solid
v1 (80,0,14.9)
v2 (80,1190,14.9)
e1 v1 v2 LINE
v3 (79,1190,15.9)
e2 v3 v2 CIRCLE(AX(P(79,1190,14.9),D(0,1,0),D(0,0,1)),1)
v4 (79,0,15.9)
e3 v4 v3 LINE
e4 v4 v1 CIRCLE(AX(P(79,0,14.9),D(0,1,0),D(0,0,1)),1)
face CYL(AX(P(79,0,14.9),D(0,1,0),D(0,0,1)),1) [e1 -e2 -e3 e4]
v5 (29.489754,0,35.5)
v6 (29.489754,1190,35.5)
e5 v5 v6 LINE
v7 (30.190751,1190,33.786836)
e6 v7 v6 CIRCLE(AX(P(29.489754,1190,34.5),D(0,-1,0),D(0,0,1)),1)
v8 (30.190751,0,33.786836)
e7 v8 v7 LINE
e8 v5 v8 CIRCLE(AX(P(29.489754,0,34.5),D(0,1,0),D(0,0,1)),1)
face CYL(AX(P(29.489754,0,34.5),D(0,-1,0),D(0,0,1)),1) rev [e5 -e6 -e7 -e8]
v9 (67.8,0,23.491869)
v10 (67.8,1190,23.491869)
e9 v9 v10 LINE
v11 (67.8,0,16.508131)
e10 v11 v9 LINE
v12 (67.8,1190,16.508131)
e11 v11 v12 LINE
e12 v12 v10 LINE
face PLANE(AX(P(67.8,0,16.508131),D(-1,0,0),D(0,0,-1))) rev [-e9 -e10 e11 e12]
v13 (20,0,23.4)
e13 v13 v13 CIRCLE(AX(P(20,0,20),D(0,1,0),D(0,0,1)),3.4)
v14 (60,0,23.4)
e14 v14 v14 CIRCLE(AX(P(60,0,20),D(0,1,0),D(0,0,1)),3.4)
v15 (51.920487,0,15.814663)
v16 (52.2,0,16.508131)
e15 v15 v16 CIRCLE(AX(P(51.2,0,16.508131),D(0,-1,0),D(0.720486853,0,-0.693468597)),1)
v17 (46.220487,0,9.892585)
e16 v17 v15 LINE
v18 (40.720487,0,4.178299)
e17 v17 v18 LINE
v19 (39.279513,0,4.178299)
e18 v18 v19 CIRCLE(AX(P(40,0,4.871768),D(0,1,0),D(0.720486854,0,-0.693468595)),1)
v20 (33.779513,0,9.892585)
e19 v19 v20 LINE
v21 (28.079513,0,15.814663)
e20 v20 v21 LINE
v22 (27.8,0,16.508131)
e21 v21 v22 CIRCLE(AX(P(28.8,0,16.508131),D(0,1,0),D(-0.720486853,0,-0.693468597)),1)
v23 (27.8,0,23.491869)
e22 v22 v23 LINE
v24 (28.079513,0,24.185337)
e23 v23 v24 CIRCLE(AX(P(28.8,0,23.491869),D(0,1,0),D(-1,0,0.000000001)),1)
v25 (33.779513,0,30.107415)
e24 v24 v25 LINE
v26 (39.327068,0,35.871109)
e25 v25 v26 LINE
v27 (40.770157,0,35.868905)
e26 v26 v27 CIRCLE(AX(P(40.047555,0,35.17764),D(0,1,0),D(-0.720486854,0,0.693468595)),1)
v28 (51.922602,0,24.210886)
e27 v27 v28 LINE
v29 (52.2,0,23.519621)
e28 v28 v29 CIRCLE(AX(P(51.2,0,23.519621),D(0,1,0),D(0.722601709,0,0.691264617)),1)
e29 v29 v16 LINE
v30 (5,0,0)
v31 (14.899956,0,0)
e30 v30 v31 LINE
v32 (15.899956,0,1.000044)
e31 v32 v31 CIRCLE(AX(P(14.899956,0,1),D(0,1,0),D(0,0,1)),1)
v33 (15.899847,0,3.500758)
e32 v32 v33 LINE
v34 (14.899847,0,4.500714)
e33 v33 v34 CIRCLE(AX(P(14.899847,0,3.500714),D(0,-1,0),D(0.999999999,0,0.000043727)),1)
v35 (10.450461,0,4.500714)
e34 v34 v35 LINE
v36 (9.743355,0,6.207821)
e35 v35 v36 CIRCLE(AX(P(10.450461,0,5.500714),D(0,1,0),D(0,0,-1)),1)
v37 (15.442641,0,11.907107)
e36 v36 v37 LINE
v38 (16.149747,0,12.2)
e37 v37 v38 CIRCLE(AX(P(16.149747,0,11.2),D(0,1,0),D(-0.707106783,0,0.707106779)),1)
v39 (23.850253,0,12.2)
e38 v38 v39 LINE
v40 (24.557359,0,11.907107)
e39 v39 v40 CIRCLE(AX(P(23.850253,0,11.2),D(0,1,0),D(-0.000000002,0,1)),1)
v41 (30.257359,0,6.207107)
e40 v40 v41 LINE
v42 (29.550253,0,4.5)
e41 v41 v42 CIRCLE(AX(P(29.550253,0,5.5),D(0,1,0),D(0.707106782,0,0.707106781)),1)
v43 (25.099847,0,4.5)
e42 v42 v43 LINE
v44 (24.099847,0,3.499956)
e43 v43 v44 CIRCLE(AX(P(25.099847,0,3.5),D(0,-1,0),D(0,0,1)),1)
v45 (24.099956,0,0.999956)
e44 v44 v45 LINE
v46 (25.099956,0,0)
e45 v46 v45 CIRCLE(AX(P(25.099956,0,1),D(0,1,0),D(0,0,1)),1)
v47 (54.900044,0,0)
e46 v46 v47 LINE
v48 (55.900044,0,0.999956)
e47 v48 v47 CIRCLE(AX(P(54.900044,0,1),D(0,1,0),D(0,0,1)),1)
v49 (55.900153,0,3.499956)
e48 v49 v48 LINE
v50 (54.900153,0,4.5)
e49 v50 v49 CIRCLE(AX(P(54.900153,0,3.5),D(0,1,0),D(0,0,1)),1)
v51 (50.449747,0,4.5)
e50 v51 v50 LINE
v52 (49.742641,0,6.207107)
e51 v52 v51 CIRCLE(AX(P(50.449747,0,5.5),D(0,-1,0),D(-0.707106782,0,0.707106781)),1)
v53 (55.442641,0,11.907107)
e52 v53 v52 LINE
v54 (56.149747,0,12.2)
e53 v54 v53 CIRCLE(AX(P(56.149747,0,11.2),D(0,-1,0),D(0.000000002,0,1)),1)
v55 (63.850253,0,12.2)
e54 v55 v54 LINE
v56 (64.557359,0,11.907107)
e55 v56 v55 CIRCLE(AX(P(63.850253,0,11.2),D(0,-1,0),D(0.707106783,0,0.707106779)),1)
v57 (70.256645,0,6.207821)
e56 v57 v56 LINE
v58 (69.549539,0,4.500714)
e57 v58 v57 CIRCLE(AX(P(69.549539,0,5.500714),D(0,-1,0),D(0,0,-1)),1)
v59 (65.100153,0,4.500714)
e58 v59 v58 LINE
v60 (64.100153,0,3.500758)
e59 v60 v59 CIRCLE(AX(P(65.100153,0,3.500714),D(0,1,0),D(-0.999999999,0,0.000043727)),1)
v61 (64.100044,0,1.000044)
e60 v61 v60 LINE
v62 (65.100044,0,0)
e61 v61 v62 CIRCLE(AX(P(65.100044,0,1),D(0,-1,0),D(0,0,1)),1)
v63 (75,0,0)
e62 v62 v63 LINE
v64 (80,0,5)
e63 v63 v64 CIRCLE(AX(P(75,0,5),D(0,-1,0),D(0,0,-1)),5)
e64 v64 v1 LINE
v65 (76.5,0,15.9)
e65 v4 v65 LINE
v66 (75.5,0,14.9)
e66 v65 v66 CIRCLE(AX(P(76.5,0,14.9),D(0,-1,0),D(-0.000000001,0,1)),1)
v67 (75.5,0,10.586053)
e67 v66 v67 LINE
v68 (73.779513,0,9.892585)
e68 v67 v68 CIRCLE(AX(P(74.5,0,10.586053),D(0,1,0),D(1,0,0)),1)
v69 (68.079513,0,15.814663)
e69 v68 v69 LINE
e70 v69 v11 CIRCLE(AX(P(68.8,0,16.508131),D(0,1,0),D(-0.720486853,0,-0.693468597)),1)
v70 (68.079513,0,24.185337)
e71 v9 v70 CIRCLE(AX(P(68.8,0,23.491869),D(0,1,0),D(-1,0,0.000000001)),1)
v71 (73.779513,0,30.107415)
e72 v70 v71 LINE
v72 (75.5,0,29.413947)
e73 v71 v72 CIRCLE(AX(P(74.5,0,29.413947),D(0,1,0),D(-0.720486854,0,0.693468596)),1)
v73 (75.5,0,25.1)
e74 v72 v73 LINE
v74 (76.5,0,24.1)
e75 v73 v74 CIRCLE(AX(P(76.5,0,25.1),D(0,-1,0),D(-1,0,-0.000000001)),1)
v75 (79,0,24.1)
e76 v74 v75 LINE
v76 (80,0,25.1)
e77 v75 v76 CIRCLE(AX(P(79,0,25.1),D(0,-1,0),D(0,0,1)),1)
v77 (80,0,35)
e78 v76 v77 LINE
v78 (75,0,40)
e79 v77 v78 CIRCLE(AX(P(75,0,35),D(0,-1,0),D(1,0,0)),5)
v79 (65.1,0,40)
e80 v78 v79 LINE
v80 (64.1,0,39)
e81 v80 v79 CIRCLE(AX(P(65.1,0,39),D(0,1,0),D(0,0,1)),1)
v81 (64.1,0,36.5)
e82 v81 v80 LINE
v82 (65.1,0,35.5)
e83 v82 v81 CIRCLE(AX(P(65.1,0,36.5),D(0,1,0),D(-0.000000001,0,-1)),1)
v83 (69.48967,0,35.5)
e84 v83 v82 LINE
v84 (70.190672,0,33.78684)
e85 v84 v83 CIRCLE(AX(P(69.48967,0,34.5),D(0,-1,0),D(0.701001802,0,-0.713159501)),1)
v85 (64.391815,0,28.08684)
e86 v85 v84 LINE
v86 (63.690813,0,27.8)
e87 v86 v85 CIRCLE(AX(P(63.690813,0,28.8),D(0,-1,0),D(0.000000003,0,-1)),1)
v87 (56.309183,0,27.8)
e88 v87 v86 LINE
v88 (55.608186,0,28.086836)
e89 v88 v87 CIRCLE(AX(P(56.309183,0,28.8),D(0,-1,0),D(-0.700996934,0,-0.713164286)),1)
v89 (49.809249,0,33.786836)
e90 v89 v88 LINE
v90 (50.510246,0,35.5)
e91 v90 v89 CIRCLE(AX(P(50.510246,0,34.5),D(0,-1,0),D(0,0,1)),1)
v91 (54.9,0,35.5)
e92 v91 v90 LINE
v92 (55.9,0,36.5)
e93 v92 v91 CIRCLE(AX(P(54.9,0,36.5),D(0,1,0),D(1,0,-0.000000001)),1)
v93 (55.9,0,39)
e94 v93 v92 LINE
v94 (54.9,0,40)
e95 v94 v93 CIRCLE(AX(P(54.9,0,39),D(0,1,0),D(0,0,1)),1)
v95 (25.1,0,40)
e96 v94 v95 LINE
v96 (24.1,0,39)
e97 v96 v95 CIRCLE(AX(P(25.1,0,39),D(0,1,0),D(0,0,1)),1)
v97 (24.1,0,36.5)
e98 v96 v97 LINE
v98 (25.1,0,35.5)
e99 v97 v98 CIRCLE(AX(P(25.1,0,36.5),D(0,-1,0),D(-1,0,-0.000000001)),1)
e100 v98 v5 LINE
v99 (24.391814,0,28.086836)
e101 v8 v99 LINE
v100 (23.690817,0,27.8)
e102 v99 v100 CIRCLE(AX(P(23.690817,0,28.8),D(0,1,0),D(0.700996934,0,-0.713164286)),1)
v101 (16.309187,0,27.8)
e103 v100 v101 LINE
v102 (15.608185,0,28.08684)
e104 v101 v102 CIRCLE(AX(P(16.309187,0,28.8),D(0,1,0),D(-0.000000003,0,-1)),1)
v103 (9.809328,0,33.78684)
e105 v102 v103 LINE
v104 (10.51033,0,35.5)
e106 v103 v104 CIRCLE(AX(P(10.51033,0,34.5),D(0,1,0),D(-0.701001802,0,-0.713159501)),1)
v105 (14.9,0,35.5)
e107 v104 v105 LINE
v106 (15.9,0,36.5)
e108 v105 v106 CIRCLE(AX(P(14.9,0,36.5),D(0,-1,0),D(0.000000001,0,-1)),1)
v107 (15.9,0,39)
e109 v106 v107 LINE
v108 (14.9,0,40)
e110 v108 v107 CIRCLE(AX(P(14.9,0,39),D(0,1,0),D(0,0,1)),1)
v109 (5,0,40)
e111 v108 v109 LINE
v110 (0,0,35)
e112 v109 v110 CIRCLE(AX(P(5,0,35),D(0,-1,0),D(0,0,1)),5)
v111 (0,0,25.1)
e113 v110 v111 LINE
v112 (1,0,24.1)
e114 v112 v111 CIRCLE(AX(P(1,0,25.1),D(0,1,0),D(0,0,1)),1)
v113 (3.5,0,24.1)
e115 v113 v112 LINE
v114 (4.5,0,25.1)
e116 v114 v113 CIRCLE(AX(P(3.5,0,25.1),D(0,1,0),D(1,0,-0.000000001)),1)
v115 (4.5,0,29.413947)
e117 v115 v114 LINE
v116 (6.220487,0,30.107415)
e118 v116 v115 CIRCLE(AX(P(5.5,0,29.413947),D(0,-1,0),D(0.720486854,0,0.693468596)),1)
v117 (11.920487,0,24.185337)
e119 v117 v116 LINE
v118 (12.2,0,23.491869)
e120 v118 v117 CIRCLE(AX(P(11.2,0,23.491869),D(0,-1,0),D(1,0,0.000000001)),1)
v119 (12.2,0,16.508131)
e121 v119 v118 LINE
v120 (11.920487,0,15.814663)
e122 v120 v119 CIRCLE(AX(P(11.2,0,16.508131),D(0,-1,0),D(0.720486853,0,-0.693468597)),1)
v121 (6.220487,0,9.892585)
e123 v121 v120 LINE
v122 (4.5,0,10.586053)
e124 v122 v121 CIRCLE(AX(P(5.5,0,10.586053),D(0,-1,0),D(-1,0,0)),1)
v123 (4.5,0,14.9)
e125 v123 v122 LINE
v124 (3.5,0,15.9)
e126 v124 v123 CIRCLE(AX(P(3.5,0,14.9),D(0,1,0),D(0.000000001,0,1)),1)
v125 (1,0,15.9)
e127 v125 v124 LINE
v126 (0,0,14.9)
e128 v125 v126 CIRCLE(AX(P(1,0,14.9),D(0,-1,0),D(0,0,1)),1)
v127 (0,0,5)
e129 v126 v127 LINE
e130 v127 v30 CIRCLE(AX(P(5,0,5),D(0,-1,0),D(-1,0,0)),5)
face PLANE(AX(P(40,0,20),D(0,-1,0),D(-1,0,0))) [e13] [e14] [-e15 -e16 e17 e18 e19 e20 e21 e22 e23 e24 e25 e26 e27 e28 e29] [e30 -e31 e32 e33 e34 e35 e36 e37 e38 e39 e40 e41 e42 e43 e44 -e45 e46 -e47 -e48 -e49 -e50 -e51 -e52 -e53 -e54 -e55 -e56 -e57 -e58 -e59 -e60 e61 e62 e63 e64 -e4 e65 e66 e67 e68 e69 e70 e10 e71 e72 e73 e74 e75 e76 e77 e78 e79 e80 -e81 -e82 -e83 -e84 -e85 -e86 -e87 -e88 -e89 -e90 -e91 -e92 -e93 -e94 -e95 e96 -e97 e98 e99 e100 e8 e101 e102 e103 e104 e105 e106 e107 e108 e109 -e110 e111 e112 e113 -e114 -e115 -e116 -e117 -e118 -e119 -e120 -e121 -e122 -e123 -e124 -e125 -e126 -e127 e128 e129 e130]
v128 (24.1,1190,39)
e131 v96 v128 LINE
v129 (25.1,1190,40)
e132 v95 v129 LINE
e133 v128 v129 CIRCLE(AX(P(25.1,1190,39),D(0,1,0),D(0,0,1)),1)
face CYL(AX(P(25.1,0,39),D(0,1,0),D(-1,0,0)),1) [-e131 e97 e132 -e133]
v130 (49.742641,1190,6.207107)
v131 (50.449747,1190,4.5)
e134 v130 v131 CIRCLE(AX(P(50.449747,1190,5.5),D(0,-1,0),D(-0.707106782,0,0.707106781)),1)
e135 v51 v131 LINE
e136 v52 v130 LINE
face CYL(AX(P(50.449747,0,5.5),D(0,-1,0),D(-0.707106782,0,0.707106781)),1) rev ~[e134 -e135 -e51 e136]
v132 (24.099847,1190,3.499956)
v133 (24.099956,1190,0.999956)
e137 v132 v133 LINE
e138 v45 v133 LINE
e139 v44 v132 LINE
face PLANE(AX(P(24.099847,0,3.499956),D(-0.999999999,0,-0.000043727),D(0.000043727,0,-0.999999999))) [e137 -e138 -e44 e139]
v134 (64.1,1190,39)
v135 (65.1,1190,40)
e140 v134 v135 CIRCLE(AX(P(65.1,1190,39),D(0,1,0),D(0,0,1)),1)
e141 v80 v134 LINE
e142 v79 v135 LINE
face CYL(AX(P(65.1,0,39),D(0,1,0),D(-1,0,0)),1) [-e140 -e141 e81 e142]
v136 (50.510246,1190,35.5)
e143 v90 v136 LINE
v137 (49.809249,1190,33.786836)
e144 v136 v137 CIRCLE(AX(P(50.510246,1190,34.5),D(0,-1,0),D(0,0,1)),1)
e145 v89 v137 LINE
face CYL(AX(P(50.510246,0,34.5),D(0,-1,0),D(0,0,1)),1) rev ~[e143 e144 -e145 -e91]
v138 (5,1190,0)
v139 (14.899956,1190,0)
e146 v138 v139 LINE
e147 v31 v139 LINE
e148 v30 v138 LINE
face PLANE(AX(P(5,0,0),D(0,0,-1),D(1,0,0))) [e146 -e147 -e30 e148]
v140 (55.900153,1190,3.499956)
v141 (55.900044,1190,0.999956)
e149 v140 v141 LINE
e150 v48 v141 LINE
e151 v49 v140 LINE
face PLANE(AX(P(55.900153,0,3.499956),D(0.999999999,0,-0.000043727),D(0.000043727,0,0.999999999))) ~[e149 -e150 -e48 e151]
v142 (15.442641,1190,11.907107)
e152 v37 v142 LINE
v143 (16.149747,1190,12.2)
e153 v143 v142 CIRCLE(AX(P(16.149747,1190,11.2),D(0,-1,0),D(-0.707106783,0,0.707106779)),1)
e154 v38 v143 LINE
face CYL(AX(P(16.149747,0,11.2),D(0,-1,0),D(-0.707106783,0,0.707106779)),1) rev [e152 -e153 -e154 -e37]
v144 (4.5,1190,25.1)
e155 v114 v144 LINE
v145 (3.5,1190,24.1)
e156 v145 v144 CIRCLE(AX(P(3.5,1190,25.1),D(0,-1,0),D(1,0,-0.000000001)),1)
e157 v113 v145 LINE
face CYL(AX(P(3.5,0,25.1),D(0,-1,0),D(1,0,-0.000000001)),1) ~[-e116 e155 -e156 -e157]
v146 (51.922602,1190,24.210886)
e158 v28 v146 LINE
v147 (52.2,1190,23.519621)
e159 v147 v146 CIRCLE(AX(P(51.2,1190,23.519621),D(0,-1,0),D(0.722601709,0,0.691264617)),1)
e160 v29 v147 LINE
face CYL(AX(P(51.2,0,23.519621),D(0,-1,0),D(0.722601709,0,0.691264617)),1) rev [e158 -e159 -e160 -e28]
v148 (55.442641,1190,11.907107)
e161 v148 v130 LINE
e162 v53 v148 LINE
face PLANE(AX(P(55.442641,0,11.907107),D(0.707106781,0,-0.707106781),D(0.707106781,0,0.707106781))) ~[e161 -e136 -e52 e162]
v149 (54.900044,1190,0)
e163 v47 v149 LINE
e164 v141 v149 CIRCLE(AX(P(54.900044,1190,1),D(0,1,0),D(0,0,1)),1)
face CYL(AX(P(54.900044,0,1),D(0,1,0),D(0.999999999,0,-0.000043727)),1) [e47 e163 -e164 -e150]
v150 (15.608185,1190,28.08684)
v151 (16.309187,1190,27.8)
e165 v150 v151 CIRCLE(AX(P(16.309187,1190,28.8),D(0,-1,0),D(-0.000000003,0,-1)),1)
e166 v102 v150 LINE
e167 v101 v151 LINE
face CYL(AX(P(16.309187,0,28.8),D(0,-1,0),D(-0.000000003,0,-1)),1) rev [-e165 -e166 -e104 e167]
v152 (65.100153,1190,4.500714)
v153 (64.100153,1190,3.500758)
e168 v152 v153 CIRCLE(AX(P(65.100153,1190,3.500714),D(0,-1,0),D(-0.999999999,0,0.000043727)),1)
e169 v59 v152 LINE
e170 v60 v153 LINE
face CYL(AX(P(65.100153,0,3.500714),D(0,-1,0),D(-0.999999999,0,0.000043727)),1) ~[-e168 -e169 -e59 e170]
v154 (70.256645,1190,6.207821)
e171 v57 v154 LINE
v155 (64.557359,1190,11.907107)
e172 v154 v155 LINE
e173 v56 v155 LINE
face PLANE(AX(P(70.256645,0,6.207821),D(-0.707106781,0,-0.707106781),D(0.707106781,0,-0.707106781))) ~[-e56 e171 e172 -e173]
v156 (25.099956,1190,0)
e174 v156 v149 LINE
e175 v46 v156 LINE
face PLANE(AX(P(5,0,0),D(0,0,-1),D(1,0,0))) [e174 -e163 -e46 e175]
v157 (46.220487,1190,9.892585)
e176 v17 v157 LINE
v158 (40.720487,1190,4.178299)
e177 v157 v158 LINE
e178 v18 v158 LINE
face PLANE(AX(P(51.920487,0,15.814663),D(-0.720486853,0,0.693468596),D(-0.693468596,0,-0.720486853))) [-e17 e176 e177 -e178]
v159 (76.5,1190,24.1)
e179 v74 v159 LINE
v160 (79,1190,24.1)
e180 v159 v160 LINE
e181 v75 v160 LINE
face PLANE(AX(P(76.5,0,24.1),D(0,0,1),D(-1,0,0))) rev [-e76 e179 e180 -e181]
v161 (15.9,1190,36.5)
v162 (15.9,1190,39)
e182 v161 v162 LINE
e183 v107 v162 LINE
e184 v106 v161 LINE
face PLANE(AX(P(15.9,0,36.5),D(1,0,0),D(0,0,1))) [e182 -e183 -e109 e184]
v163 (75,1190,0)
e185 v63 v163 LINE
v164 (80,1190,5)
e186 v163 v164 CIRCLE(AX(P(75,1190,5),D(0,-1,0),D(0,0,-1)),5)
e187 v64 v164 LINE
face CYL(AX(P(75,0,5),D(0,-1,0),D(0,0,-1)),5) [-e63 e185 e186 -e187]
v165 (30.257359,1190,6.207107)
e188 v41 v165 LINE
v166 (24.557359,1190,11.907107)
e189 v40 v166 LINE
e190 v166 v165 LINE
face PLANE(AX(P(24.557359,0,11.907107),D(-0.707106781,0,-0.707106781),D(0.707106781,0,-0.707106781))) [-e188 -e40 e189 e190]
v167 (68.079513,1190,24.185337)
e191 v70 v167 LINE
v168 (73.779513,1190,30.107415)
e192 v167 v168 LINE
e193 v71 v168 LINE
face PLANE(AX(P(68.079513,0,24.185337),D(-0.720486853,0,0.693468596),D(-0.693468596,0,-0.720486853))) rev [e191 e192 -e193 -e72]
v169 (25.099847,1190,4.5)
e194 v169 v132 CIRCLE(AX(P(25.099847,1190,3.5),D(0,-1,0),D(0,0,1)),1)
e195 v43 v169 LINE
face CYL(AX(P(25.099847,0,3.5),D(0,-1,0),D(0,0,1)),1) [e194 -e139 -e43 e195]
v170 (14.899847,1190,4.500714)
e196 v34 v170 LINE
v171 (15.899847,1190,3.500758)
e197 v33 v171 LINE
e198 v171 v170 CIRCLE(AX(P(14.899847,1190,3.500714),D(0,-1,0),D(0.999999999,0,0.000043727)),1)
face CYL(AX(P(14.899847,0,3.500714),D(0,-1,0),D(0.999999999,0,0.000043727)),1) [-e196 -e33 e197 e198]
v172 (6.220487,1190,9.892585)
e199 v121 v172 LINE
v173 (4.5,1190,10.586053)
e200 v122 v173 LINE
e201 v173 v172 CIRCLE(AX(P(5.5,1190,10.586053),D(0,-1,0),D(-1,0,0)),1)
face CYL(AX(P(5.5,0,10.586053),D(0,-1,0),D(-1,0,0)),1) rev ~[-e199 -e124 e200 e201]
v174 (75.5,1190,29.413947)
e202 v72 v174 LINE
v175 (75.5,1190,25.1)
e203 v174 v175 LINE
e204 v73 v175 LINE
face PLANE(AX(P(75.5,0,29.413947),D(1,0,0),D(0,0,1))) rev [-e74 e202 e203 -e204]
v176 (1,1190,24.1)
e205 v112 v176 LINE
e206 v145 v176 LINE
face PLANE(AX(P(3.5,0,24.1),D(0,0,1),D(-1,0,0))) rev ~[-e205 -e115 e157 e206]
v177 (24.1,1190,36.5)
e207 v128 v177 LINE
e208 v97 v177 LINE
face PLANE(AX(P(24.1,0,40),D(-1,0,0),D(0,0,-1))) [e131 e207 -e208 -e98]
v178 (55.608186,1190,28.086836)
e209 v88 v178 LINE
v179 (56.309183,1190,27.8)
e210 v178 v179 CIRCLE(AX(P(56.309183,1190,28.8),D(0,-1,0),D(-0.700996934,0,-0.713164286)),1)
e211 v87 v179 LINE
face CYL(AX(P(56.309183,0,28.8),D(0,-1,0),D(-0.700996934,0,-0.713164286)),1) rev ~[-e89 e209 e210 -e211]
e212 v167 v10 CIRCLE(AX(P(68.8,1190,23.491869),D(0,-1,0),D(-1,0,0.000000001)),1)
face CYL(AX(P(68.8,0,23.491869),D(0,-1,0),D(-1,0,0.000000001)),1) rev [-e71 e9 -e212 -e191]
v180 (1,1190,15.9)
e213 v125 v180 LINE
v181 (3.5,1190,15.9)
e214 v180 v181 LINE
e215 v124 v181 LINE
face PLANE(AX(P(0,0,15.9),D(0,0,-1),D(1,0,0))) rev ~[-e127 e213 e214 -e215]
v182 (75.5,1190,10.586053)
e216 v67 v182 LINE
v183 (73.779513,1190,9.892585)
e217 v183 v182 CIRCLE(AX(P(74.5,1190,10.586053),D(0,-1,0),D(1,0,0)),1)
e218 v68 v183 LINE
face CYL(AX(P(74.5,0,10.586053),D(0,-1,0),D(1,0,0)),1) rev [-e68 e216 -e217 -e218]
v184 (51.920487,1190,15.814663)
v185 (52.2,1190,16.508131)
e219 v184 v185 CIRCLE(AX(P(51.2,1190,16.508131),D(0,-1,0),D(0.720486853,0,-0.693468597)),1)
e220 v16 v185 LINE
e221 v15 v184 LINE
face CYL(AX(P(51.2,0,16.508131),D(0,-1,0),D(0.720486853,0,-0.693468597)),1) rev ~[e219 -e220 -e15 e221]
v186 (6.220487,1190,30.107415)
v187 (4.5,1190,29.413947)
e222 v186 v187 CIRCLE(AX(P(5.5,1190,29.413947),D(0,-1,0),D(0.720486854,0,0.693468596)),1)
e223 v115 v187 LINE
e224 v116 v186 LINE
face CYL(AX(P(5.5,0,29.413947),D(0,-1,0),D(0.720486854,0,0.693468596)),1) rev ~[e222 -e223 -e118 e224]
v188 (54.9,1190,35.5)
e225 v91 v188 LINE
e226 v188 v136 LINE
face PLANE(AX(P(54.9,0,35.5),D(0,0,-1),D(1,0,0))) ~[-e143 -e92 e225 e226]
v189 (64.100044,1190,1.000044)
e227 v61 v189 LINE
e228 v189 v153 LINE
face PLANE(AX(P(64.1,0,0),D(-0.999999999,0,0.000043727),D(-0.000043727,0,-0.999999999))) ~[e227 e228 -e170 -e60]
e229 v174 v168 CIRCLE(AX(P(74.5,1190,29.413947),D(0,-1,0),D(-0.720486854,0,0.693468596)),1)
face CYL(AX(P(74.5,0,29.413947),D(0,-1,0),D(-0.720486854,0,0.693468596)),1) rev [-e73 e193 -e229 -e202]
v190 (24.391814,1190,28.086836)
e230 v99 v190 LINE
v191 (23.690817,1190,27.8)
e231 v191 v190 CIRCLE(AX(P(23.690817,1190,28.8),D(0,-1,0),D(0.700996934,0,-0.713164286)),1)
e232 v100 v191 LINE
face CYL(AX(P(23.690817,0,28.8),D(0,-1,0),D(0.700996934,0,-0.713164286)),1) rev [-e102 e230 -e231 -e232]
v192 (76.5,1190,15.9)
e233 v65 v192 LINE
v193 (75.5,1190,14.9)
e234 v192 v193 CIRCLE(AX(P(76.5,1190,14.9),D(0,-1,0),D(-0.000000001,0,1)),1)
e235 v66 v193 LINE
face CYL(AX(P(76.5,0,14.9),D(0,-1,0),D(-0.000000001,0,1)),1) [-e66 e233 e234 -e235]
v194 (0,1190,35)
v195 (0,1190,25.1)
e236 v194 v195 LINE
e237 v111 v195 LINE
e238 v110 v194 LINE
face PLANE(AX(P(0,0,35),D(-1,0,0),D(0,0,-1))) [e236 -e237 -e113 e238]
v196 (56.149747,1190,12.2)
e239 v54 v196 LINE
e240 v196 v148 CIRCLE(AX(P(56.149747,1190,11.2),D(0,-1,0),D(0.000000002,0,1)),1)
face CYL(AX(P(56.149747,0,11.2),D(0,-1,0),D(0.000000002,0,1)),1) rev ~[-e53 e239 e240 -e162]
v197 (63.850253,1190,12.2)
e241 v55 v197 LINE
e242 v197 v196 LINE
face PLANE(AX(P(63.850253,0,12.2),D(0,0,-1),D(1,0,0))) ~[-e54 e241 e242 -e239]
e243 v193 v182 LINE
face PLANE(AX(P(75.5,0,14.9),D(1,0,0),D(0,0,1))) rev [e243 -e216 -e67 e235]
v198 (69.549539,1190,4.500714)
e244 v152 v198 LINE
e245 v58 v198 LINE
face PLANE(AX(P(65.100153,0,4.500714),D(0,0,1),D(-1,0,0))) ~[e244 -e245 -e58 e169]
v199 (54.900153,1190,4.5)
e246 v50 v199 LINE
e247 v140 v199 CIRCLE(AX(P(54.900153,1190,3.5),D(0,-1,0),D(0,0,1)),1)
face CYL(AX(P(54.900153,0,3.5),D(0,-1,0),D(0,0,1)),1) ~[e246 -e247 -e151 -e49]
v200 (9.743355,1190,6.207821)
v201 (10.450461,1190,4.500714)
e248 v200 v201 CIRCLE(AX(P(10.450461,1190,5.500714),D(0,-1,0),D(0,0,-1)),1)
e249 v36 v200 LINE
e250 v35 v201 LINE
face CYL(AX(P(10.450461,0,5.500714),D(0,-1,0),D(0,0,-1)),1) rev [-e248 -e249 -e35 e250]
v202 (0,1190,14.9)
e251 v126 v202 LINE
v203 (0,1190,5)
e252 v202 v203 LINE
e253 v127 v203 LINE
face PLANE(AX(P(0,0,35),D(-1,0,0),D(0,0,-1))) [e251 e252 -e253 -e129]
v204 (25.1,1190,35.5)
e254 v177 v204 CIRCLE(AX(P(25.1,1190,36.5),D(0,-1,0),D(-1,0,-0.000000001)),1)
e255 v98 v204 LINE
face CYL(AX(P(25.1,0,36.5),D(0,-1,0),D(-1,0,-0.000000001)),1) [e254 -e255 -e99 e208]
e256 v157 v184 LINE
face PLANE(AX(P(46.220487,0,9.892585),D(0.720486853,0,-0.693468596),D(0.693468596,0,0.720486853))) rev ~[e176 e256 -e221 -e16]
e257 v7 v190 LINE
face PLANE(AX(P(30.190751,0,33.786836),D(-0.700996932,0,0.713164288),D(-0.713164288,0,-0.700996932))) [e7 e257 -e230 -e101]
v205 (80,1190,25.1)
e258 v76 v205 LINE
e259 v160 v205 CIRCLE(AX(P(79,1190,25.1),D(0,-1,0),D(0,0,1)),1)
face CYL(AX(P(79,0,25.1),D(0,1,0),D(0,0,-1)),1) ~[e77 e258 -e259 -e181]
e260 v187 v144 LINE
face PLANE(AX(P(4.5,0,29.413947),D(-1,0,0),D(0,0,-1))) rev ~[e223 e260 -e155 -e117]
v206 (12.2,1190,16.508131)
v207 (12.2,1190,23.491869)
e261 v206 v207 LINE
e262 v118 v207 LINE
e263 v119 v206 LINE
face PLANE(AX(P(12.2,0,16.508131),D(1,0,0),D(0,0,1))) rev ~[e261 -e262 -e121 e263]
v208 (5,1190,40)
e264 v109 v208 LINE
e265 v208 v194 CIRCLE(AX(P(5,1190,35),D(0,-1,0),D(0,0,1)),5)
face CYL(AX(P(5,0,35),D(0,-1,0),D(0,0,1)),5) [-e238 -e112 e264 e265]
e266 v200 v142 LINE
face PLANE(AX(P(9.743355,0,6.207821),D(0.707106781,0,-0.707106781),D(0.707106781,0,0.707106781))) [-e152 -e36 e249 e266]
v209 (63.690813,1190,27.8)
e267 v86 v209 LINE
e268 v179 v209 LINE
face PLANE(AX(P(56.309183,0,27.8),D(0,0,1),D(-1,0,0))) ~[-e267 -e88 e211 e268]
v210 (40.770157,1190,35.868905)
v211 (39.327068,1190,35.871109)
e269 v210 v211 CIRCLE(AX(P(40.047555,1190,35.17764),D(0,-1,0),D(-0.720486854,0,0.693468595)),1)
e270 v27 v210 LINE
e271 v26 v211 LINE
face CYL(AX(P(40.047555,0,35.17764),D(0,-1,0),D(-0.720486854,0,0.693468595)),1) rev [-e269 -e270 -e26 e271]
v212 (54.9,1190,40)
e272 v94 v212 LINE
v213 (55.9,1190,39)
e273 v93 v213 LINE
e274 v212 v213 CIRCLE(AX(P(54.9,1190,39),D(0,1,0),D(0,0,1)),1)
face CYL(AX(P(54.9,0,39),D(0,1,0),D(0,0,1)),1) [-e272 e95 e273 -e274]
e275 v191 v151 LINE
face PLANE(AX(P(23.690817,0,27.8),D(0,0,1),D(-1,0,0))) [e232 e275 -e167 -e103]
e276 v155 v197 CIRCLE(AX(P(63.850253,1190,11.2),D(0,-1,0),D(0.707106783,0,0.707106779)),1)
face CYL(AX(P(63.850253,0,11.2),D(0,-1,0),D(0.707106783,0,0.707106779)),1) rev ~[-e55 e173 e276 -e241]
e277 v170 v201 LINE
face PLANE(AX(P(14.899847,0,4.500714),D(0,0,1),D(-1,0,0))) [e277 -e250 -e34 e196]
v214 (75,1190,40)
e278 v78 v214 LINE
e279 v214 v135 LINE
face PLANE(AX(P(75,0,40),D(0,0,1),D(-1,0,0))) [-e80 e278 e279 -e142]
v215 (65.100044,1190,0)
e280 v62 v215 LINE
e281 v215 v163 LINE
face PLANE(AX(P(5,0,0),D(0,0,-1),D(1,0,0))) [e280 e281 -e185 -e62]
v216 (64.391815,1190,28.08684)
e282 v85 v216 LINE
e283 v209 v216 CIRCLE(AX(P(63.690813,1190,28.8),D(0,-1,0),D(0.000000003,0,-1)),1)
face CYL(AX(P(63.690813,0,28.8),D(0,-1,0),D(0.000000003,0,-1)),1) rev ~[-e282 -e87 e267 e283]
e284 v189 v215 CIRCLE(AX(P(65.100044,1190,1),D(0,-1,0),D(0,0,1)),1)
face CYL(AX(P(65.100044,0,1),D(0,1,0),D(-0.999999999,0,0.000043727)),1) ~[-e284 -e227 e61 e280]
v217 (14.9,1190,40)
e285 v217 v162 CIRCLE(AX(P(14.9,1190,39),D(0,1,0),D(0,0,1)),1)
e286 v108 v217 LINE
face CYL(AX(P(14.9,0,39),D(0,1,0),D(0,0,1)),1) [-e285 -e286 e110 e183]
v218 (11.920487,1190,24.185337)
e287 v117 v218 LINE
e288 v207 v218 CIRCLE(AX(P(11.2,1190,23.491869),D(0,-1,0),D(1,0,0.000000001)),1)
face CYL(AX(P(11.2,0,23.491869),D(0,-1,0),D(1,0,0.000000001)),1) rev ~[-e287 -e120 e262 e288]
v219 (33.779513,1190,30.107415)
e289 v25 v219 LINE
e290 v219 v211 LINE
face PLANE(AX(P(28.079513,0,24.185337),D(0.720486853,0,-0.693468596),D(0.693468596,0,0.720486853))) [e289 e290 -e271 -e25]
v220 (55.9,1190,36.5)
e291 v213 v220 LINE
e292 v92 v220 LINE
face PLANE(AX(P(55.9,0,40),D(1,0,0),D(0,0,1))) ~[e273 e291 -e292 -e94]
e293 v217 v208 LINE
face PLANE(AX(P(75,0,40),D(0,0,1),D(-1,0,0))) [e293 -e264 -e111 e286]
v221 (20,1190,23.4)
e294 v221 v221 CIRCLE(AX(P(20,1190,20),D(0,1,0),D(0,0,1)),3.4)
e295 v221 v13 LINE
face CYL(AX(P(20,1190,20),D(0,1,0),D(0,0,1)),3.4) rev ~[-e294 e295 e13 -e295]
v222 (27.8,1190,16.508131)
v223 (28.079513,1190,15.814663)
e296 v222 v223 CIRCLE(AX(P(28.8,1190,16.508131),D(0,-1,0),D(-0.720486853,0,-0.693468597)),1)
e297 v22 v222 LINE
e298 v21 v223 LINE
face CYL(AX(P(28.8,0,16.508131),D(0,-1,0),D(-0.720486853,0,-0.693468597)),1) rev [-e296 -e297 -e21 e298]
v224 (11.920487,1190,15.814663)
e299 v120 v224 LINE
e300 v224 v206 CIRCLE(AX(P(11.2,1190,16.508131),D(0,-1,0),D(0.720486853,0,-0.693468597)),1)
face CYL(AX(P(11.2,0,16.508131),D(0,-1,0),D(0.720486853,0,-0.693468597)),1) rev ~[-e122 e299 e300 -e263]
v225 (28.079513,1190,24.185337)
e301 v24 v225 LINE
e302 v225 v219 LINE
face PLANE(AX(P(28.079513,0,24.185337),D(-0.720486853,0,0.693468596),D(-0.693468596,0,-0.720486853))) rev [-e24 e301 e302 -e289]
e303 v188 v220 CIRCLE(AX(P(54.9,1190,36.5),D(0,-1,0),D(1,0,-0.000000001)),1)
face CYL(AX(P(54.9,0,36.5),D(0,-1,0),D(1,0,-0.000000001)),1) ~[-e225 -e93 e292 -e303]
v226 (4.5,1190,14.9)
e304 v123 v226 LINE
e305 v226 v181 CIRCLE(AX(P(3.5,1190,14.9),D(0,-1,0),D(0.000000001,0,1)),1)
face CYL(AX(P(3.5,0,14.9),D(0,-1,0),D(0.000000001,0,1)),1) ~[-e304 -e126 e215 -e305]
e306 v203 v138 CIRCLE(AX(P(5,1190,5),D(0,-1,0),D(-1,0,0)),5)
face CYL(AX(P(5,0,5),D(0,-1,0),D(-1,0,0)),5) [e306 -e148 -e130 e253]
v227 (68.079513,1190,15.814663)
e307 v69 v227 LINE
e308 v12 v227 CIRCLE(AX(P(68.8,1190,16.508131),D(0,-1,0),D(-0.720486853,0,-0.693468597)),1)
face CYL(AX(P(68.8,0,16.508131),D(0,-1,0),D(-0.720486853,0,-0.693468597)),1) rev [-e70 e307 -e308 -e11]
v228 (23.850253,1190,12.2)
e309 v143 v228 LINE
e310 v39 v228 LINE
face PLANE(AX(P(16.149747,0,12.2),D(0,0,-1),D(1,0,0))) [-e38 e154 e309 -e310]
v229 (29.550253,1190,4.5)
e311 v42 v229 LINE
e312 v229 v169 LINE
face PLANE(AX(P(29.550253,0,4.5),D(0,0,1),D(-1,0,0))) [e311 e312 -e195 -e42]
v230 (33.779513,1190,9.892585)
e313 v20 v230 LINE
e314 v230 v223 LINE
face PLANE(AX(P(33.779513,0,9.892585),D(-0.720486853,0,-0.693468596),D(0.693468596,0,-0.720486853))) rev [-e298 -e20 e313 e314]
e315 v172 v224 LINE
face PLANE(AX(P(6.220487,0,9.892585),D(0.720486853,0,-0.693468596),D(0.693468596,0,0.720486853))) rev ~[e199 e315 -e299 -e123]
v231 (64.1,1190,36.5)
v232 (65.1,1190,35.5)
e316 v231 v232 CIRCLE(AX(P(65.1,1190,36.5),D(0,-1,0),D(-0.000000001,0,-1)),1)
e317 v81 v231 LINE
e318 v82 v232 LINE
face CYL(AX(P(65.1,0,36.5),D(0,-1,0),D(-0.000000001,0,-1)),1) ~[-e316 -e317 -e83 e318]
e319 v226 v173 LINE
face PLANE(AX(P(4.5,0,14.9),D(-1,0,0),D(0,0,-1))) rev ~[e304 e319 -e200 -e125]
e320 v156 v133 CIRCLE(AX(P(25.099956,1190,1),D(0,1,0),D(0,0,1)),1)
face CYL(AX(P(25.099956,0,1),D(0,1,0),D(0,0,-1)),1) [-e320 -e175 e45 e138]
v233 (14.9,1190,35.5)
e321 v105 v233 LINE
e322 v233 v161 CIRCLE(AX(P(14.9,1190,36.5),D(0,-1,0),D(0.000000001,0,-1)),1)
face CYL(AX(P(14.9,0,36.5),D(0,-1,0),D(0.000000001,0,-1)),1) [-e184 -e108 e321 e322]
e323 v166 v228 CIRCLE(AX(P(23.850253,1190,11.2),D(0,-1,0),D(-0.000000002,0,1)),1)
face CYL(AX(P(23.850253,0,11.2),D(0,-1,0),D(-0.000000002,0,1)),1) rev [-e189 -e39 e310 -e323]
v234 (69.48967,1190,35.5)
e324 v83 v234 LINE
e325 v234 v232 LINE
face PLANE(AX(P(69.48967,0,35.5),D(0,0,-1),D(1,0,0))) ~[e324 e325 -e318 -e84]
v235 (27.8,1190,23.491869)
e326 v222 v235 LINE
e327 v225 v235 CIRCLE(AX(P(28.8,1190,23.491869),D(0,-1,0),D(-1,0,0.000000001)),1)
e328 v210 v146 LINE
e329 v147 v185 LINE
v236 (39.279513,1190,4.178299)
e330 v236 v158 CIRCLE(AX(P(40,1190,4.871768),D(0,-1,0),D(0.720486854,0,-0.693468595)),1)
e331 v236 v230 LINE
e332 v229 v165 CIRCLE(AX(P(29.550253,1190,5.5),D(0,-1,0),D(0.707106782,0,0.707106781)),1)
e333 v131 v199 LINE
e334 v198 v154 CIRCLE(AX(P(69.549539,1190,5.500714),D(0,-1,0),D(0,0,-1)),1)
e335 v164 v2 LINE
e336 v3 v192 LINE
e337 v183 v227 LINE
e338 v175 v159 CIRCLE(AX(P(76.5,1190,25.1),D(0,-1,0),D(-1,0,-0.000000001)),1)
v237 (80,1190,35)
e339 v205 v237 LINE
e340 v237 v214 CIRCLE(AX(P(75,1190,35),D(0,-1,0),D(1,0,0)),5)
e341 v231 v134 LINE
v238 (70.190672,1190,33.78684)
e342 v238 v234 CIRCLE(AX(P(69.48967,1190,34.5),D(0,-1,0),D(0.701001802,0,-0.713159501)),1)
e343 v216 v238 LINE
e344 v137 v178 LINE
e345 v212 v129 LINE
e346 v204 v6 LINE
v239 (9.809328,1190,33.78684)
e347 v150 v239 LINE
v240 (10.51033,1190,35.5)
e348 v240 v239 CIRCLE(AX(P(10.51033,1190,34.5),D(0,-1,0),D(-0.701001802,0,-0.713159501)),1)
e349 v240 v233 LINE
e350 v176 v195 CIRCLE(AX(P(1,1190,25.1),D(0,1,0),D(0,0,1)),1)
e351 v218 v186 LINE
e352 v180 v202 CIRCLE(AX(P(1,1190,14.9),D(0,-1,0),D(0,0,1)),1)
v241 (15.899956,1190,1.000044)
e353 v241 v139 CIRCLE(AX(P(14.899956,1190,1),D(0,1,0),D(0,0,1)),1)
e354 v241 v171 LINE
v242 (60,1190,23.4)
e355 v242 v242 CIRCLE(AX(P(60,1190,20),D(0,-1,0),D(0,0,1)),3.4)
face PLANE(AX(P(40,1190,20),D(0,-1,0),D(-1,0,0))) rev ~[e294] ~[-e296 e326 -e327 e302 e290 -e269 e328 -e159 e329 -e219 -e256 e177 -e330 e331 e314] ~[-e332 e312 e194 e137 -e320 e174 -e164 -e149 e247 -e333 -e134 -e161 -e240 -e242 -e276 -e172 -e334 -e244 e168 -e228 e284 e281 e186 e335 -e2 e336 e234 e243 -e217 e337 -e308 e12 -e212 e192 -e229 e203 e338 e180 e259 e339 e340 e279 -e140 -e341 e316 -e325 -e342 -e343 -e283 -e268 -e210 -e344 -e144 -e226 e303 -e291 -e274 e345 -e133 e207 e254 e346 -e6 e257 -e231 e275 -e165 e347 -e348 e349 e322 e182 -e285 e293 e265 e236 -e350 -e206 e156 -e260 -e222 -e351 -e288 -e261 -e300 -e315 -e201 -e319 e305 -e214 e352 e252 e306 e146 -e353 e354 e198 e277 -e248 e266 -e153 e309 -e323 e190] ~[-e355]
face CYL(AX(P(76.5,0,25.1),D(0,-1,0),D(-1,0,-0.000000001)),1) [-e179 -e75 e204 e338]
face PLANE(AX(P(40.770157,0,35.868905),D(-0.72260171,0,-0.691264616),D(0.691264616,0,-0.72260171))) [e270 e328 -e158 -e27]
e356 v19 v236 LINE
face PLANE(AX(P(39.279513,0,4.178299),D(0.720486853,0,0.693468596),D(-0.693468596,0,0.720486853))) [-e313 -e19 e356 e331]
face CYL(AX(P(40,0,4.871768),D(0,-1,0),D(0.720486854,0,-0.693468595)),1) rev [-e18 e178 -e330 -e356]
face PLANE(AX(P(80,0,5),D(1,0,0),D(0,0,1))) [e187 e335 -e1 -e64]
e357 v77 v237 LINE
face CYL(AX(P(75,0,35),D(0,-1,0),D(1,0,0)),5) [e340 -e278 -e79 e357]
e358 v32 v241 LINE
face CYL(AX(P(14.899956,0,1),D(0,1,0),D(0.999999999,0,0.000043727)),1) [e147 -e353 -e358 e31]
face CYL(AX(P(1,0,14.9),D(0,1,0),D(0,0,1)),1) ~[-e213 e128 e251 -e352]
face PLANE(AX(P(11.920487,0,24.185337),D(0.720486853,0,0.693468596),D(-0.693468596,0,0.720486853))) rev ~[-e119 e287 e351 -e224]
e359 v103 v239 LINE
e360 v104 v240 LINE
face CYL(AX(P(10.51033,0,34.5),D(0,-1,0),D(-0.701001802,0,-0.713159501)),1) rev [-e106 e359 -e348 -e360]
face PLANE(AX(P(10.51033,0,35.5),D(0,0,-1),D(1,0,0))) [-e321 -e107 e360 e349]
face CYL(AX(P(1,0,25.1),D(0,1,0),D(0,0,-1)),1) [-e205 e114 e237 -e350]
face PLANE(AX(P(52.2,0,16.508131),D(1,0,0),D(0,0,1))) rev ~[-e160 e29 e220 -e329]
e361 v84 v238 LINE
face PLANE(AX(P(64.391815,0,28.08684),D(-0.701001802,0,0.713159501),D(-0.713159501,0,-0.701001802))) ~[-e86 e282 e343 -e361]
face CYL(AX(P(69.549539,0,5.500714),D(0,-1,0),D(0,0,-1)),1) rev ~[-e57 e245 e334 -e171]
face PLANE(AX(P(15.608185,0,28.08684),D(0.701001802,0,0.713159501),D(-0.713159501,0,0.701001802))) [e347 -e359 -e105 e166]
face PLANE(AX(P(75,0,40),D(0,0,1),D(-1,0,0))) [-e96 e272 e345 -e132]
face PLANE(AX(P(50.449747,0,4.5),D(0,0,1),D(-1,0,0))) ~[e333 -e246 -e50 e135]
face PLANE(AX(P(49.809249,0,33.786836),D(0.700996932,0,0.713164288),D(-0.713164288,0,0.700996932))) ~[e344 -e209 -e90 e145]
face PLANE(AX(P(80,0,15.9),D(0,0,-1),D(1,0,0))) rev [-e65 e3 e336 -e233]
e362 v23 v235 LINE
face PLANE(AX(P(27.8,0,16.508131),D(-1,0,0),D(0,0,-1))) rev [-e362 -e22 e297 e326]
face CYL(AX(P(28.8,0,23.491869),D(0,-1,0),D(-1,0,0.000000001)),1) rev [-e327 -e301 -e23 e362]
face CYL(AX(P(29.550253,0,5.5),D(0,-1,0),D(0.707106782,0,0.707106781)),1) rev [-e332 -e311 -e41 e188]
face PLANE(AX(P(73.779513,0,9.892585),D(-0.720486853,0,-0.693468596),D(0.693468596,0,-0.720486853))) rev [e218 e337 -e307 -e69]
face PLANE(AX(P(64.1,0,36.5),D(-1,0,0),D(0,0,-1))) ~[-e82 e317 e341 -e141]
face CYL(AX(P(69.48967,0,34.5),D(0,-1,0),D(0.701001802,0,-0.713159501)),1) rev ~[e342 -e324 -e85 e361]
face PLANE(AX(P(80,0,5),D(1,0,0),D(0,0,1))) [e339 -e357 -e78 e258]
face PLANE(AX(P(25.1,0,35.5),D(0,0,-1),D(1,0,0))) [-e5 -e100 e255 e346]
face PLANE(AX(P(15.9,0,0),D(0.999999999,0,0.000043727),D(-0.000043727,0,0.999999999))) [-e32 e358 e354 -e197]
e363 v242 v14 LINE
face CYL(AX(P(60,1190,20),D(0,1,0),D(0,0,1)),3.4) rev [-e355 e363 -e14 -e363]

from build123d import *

# Parameters (mm, degrees)
BOSS_EXTRUDE1_DEPTH   = 1190
SKETCH3_R             = 3.4
CUT_EXTRUDE1_DEPTH    = 1194.356610574
CUT_EXTRUDE2_DEPTH    = 1194.356610574
FILLET1_R             = 1
FILLET2_R             = 1
FILLET3_R             = 1
CUT_EXTRUDE3_DEPTH    = 1194.356610574
CUT_EXTRUDE4_DEPTH    = 1194.356610574
FILLET4_R             = 1
FILLET5_R             = 1
FILLET6_R             = 1
FILLET7_R             = 1
FILLET8_R             = 1
FILLET9_R             = 1
FILLET10_R            = 1
FILLET11_R            = 1
MIRROR11_COPY_1_DEPTH = 1194.356610574
MIRROR11_COPY_2_DEPTH = 1194.356610574
CUT_EXTRUDE5_DEPTH    = 1194.356610574


with BuildPart() as part:
    # Sketch1 → Boss-Extrude1 (new body)
    with BuildSketch(Plane(origin=(0, 0, 0), x_dir=(1, 0, 0), z_dir=(0, 1, 0))):
        with BuildLine():
            Line((5, 0), (75, 0))
            ThreePointArc((75, 0), (78.535533906, -1.464466094), (80, -5))
            Line((80, -5), (80, -35))
            ThreePointArc((80, -35), (78.535533906, -38.535533906), (75, -40))
            Line((75, -40), (5, -40))
            ThreePointArc((5, -40), (1.464466094, -38.535533906), (0, -35))
            Line((0, -35), (0, -5))
            ThreePointArc((0, -5), (1.464466094, -1.464466094), (5, 0))
        make_face()
    extrude(amount=BOSS_EXTRUDE1_DEPTH)

    # Sketch3 → Cut-Extrude1 (cut, through all)
    with BuildSketch(Plane(origin=(0, 1190, 0), x_dir=(1, 0, 0), z_dir=(0, 1, 0))):
        with Locations(Location((20, -20, 0), (0, 0, 270))):
            Circle(SKETCH3_R)
    cut_extrude1 = extrude(amount=-CUT_EXTRUDE1_DEPTH, mode=Mode.SUBTRACT)

    # Mirror3: Cut-Extrude1 across plane
    add(cut_extrude1.mirror(Plane(origin=(40, 0, 0), x_dir=(0, 0, 1), z_dir=(1, 0, 0))), mode=Mode.SUBTRACT)

    # Sketch7 → Cut-Extrude2 (cut, through all)
    with BuildSketch(Plane(origin=(0, 0, 0), x_dir=(-1, 0, 0), z_dir=(0, -1, 0))):
        with BuildLine():
            Line((-15.9, -40), (-24.1, -40))
            Line((-24.1, -40), (-24.1, -36.5))
            ThreePointArc((-24.1, -36.5), (-24.392893219, -35.792893219), (-25.1, -35.5))
            Line((-25.1, -35.5), (-29.489753594, -35.5))
            ThreePointArc((-29.489753594, -35.5), (-30.415270825, -34.8787055), (-30.190750526, -33.786835712))
            Line((-30.190750526, -33.786835712), (-24.391814382, -28.086835712))
            ThreePointArc((-24.391814382, -28.086835712), (-24.069522951, -27.874482769), (-23.69081745, -27.8))
            Line((-23.69081745, -27.8), (-16.309186536, -27.8))
            ThreePointArc((-16.309186536, -27.8), (-15.930477876, -27.874484063), (-15.608184734, -28.086840499))
            Line((-15.608184734, -28.086840499), (-9.809327805, -33.786840499))
            ThreePointArc((-9.809327805, -33.786840499), (-9.584813669, -34.87870866), (-10.510329607, -35.5))
            Line((-10.510329607, -35.5), (-14.9, -35.5))
            ThreePointArc((-14.9, -35.5), (-15.607106781, -35.792893219), (-15.9, -36.5))
            Line((-15.9, -36.5), (-15.9, -40))
        make_face()
    cut_extrude2 = extrude(amount=-CUT_EXTRUDE2_DEPTH, mode=Mode.SUBTRACT)

    # Fillet1
    fillet1_edges = [part.edges().sort_by_distance(p)[0] for p in [
        (15.9, 595, 40),
        (24.1, 595, 40),
    ]]
    fillet(fillet1_edges, radius=FILLET1_R)

    # Mirror8: Cut-Extrude2 across plane
    add(cut_extrude2.mirror(Plane(origin=(40, 0, 0), x_dir=(0, 0, 1), z_dir=(1, 0, 0))), mode=Mode.SUBTRACT)

    # Fillet2
    fillet2_edges = [part.edges().sort_by_distance(p)[0] for p in [
        (55.9, 595, 40),
    ]]
    fillet(fillet2_edges, radius=FILLET2_R)

    # Fillet3
    fillet3_edges = [part.edges().sort_by_distance(p)[0] for p in [
        (64.1, 595, 40),
    ]]
    fillet(fillet3_edges, radius=FILLET3_R)

    # Sketch9 → Cut-Extrude3 (cut, through all)
    with BuildSketch(Plane(origin=(0, 0, 0), x_dir=(1, 0, 0), z_dir=(0, 1, 0))):
        with BuildLine():
            Line((14.899846923, -4.500713815), (10.450461284, -4.500713815))
            ThreePointArc((10.450461284, -4.500713815), (9.526581751, -5.118030383), (9.743354502, -6.207820596))
            Line((9.743354502, -6.207820596), (15.442640687, -11.907106781))
            ThreePointArc((15.442640687, -11.907106781), (15.767064036, -12.123879533), (16.149747468, -12.2))
            Line((16.149747468, -12.2), (23.850252532, -12.2))
            ThreePointArc((23.850252532, -12.2), (24.232935964, -12.123879533), (24.557359313, -11.907106781))
            Line((24.557359313, -11.907106781), (30.257359313, -6.207106781))
            ThreePointArc((30.257359313, -6.207106781), (30.474132064, -5.117316568), (29.550252532, -4.5))
            Line((29.550252532, -4.5), (25.099846964, -4.5))
            ThreePointArc((25.099846964, -4.5), (24.392724723, -4.207091321), (24.099846965, -3.499956273))
            Line((24.099846965, -3.499956273), (24.100000008, 0))
            Line((24.100000008, 0), (15.9, 0))
            Line((15.9, 0), (15.899846922, -3.500757542))
            ThreePointArc((15.899846922, -3.500757542), (15.606938244, -4.207836056), (14.899846923, -4.500713815))
        make_face()
    cut_extrude3 = extrude(amount=CUT_EXTRUDE3_DEPTH, mode=Mode.SUBTRACT)

    # Mirror9: Cut-Extrude3 across plane
    add(cut_extrude3.mirror(Plane(origin=(40, 0, 0), x_dir=(0, 0, 1), z_dir=(1, 0, 0))), mode=Mode.SUBTRACT)

    # Sketch10 → Cut-Extrude4 (cut, through all)
    with BuildSketch(Plane(origin=(0, 0, 0), x_dir=(1, 0, 0), z_dir=(0, 1, 0))):
        with BuildLine():
            Line((4.5, -14.9), (4.5, -10.58605332))
            ThreePointArc((4.5, -10.58605332), (5.126159695, -9.658560233), (6.220486853, -9.892584724))
            Line((6.220486853, -9.892584724), (11.920486853, -15.814662646))
            ThreePointArc((11.920486853, -15.814662646), (12.127493087, -16.134290938), (12.2, -16.508131242))
            Line((12.2, -16.508131242), (12.2, -23.491868758))
            ThreePointArc((12.2, -23.491868758), (12.127493087, -23.865709062), (11.920486853, -24.185337354))
            Line((11.920486853, -24.185337354), (6.220486853, -30.107415276))
            ThreePointArc((6.220486853, -30.107415276), (5.126159695, -30.341439767), (4.5, -29.41394668))
            Line((4.5, -29.41394668), (4.5, -25.1))
            ThreePointArc((4.5, -25.1), (4.207106781, -24.392893219), (3.5, -24.1))
            Line((3.5, -24.1), (0, -24.1))
            Line((0, -24.1), (0, -15.9))
            Line((0, -15.9), (3.5, -15.9))
            ThreePointArc((3.5, -15.9), (4.207106781, -15.607106781), (4.5, -14.9))
        make_face()
    cut_extrude4 = extrude(amount=CUT_EXTRUDE4_DEPTH, mode=Mode.SUBTRACT)

    # Fillet4
    fillet4_edges = [part.edges().sort_by_distance(p)[0] for p in [
        (24.100000008, 595, 0),
    ]]
    fillet(fillet4_edges, radius=FILLET4_R)

    # Fillet5
    fillet5_edges = [part.edges().sort_by_distance(p)[0] for p in [
        (64.1, 595, 0),
    ]]
    fillet(fillet5_edges, radius=FILLET5_R)

    # Fillet6
    fillet6_edges = [part.edges().sort_by_distance(p)[0] for p in [
        (55.899999992, 595, 0),
    ]]
    fillet(fillet6_edges, radius=FILLET6_R)

    # Fillet7
    fillet7_edges = [part.edges().sort_by_distance(p)[0] for p in [
        (15.9, 595, 0),
    ]]
    fillet(fillet7_edges, radius=FILLET7_R)

    # Fillet8
    fillet8_edges = [part.edges().sort_by_distance(p)[0] for p in [
        (0, 595, 24.1),
    ]]
    fillet(fillet8_edges, radius=FILLET8_R)

    # Fillet9
    fillet9_edges = [part.edges().sort_by_distance(p)[0] for p in [
        (0, 595, 15.9),
    ]]
    fillet(fillet9_edges, radius=FILLET9_R)

    # Mirror10: Cut-Extrude4 across plane
    add(cut_extrude4.mirror(Plane(origin=(40, 0, 0), x_dir=(0, 0, 1), z_dir=(1, 0, 0))), mode=Mode.SUBTRACT)

    # Fillet10
    fillet10_edges = [part.edges().sort_by_distance(p)[0] for p in [
        (80, 595, 15.9),
    ]]
    fillet(fillet10_edges, radius=FILLET10_R)

    # Fillet11
    fillet11_edges = [part.edges().sort_by_distance(p)[0] for p in [
        (80, 595, 24.1),
    ]]
    fillet(fillet11_edges, radius=FILLET11_R)

    # Mirror11 copy 1 sketch → Mirror11 copy 1 (cut, through all)
    with BuildSketch(Plane(origin=(40, 0, 0), x_dir=(1, 0, 0), z_dir=(0, 1, 0))):
        with BuildLine():
            Line((4.5, -14.9), (4.5, -10.58605332))
            ThreePointArc((4.5, -10.58605332), (5.126159695, -9.658560233), (6.220486853, -9.892584724))
            Line((6.220486853, -9.892584724), (11.920486853, -15.814662646))
            ThreePointArc((11.920486853, -15.814662646), (12.127493087, -16.134290938), (12.2, -16.508131242))
            Line((12.2, -16.508131242), (12.2, -23.491868758))
            ThreePointArc((12.2, -23.491868758), (12.127493087, -23.865709062), (11.920486853, -24.185337354))
            Line((11.920486853, -24.185337354), (6.220486853, -30.107415276))
            ThreePointArc((6.220486853, -30.107415276), (5.126159695, -30.341439767), (4.5, -29.41394668))
            Line((4.5, -29.41394668), (4.5, -25.1))
            ThreePointArc((4.5, -25.1), (4.207106781, -24.392893219), (3.5, -24.1))
            Line((3.5, -24.1), (0, -24.1))
            Line((0, -24.1), (0, -15.9))
            Line((0, -15.9), (3.5, -15.9))
            ThreePointArc((3.5, -15.9), (4.207106781, -15.607106781), (4.5, -14.9))
        make_face()
    extrude(amount=MIRROR11_COPY_1_DEPTH, mode=Mode.SUBTRACT)

    # Mirror11 copy 2 sketch → Mirror11 copy 2 (cut, through all)
    with BuildSketch(Plane(origin=(120, 0, 0), x_dir=(-1, 0, 0), z_dir=(0, 1, 0))):
        with BuildLine():
            Line((4.5, 14.9), (4.5, 10.58605332))
            ThreePointArc((4.5, 10.58605332), (5.126159695, 9.658560233), (6.220486853, 9.892584724))
            Line((6.220486853, 9.892584724), (11.920486853, 15.814662646))
            ThreePointArc((11.920486853, 15.814662646), (12.127493087, 16.134290938), (12.2, 16.508131242))
            Line((12.2, 16.508131242), (12.2, 23.491868758))
            ThreePointArc((12.2, 23.491868758), (12.127493087, 23.865709062), (11.920486853, 24.185337354))
            Line((11.920486853, 24.185337354), (6.220486853, 30.107415276))
            ThreePointArc((6.220486853, 30.107415276), (5.126159695, 30.341439767), (4.5, 29.41394668))
            Line((4.5, 29.41394668), (4.5, 25.1))
            ThreePointArc((4.5, 25.1), (4.207106781, 24.392893219), (3.5, 24.1))
            Line((3.5, 24.1), (0, 24.1))
            Line((0, 24.1), (0, 15.9))
            Line((0, 15.9), (3.5, 15.9))
            ThreePointArc((3.5, 15.9), (4.207106781, 15.607106781), (4.5, 14.9))
        make_face()
    extrude(amount=MIRROR11_COPY_2_DEPTH, mode=Mode.SUBTRACT)

    # Mirror12: Cut-Extrude4 across plane
    add(cut_extrude4.mirror(Plane.ZY.offset(-20)), mode=Mode.SUBTRACT)

    # Sketch12 → Cut-Extrude5 (cut, through all)
    with BuildSketch(Plane(origin=(0, 0, 0), x_dir=(-1, 0, 0), z_dir=(0, -1, 0))):
        with BuildLine():
            Line((-28.079513147, -24.185337354), (-39.327067998, -35.871108628))
            ThreePointArc((-39.327067998, -35.871108628), (-40.049082116, -36.177638866), (-40.770156561, -35.868904648))
            Line((-40.770156561, -35.868904648), (-51.922601709, -24.210885791))
            ThreePointArc((-51.922601709, -24.210885791), (-52.128062958, -23.892044517), (-52.2, -23.519621175))
            Line((-52.2, -23.519621175), (-52.2, -16.508131242))
            ThreePointArc((-52.2, -16.508131242), (-52.127493087, -16.134290938), (-51.920486853, -15.814662646))
            Line((-51.920486853, -15.814662646), (-40.720486853, -4.17829901))
            ThreePointArc((-40.720486853, -4.17829901), (-40, -3.871767606), (-39.279513147, -4.17829901))
            Line((-39.279513147, -4.17829901), (-28.079513147, -15.814662646))
            ThreePointArc((-28.079513147, -15.814662646), (-27.872506913, -16.134290938), (-27.8, -16.508131242))
            Line((-27.8, -16.508131242), (-27.8, -23.491868758))
            ThreePointArc((-27.8, -23.491868758), (-27.872506913, -23.865709062), (-28.079513147, -24.185337354))
        make_face()
    extrude(amount=-CUT_EXTRUDE5_DEPTH, mode=Mode.SUBTRACT)


solid = part.part
